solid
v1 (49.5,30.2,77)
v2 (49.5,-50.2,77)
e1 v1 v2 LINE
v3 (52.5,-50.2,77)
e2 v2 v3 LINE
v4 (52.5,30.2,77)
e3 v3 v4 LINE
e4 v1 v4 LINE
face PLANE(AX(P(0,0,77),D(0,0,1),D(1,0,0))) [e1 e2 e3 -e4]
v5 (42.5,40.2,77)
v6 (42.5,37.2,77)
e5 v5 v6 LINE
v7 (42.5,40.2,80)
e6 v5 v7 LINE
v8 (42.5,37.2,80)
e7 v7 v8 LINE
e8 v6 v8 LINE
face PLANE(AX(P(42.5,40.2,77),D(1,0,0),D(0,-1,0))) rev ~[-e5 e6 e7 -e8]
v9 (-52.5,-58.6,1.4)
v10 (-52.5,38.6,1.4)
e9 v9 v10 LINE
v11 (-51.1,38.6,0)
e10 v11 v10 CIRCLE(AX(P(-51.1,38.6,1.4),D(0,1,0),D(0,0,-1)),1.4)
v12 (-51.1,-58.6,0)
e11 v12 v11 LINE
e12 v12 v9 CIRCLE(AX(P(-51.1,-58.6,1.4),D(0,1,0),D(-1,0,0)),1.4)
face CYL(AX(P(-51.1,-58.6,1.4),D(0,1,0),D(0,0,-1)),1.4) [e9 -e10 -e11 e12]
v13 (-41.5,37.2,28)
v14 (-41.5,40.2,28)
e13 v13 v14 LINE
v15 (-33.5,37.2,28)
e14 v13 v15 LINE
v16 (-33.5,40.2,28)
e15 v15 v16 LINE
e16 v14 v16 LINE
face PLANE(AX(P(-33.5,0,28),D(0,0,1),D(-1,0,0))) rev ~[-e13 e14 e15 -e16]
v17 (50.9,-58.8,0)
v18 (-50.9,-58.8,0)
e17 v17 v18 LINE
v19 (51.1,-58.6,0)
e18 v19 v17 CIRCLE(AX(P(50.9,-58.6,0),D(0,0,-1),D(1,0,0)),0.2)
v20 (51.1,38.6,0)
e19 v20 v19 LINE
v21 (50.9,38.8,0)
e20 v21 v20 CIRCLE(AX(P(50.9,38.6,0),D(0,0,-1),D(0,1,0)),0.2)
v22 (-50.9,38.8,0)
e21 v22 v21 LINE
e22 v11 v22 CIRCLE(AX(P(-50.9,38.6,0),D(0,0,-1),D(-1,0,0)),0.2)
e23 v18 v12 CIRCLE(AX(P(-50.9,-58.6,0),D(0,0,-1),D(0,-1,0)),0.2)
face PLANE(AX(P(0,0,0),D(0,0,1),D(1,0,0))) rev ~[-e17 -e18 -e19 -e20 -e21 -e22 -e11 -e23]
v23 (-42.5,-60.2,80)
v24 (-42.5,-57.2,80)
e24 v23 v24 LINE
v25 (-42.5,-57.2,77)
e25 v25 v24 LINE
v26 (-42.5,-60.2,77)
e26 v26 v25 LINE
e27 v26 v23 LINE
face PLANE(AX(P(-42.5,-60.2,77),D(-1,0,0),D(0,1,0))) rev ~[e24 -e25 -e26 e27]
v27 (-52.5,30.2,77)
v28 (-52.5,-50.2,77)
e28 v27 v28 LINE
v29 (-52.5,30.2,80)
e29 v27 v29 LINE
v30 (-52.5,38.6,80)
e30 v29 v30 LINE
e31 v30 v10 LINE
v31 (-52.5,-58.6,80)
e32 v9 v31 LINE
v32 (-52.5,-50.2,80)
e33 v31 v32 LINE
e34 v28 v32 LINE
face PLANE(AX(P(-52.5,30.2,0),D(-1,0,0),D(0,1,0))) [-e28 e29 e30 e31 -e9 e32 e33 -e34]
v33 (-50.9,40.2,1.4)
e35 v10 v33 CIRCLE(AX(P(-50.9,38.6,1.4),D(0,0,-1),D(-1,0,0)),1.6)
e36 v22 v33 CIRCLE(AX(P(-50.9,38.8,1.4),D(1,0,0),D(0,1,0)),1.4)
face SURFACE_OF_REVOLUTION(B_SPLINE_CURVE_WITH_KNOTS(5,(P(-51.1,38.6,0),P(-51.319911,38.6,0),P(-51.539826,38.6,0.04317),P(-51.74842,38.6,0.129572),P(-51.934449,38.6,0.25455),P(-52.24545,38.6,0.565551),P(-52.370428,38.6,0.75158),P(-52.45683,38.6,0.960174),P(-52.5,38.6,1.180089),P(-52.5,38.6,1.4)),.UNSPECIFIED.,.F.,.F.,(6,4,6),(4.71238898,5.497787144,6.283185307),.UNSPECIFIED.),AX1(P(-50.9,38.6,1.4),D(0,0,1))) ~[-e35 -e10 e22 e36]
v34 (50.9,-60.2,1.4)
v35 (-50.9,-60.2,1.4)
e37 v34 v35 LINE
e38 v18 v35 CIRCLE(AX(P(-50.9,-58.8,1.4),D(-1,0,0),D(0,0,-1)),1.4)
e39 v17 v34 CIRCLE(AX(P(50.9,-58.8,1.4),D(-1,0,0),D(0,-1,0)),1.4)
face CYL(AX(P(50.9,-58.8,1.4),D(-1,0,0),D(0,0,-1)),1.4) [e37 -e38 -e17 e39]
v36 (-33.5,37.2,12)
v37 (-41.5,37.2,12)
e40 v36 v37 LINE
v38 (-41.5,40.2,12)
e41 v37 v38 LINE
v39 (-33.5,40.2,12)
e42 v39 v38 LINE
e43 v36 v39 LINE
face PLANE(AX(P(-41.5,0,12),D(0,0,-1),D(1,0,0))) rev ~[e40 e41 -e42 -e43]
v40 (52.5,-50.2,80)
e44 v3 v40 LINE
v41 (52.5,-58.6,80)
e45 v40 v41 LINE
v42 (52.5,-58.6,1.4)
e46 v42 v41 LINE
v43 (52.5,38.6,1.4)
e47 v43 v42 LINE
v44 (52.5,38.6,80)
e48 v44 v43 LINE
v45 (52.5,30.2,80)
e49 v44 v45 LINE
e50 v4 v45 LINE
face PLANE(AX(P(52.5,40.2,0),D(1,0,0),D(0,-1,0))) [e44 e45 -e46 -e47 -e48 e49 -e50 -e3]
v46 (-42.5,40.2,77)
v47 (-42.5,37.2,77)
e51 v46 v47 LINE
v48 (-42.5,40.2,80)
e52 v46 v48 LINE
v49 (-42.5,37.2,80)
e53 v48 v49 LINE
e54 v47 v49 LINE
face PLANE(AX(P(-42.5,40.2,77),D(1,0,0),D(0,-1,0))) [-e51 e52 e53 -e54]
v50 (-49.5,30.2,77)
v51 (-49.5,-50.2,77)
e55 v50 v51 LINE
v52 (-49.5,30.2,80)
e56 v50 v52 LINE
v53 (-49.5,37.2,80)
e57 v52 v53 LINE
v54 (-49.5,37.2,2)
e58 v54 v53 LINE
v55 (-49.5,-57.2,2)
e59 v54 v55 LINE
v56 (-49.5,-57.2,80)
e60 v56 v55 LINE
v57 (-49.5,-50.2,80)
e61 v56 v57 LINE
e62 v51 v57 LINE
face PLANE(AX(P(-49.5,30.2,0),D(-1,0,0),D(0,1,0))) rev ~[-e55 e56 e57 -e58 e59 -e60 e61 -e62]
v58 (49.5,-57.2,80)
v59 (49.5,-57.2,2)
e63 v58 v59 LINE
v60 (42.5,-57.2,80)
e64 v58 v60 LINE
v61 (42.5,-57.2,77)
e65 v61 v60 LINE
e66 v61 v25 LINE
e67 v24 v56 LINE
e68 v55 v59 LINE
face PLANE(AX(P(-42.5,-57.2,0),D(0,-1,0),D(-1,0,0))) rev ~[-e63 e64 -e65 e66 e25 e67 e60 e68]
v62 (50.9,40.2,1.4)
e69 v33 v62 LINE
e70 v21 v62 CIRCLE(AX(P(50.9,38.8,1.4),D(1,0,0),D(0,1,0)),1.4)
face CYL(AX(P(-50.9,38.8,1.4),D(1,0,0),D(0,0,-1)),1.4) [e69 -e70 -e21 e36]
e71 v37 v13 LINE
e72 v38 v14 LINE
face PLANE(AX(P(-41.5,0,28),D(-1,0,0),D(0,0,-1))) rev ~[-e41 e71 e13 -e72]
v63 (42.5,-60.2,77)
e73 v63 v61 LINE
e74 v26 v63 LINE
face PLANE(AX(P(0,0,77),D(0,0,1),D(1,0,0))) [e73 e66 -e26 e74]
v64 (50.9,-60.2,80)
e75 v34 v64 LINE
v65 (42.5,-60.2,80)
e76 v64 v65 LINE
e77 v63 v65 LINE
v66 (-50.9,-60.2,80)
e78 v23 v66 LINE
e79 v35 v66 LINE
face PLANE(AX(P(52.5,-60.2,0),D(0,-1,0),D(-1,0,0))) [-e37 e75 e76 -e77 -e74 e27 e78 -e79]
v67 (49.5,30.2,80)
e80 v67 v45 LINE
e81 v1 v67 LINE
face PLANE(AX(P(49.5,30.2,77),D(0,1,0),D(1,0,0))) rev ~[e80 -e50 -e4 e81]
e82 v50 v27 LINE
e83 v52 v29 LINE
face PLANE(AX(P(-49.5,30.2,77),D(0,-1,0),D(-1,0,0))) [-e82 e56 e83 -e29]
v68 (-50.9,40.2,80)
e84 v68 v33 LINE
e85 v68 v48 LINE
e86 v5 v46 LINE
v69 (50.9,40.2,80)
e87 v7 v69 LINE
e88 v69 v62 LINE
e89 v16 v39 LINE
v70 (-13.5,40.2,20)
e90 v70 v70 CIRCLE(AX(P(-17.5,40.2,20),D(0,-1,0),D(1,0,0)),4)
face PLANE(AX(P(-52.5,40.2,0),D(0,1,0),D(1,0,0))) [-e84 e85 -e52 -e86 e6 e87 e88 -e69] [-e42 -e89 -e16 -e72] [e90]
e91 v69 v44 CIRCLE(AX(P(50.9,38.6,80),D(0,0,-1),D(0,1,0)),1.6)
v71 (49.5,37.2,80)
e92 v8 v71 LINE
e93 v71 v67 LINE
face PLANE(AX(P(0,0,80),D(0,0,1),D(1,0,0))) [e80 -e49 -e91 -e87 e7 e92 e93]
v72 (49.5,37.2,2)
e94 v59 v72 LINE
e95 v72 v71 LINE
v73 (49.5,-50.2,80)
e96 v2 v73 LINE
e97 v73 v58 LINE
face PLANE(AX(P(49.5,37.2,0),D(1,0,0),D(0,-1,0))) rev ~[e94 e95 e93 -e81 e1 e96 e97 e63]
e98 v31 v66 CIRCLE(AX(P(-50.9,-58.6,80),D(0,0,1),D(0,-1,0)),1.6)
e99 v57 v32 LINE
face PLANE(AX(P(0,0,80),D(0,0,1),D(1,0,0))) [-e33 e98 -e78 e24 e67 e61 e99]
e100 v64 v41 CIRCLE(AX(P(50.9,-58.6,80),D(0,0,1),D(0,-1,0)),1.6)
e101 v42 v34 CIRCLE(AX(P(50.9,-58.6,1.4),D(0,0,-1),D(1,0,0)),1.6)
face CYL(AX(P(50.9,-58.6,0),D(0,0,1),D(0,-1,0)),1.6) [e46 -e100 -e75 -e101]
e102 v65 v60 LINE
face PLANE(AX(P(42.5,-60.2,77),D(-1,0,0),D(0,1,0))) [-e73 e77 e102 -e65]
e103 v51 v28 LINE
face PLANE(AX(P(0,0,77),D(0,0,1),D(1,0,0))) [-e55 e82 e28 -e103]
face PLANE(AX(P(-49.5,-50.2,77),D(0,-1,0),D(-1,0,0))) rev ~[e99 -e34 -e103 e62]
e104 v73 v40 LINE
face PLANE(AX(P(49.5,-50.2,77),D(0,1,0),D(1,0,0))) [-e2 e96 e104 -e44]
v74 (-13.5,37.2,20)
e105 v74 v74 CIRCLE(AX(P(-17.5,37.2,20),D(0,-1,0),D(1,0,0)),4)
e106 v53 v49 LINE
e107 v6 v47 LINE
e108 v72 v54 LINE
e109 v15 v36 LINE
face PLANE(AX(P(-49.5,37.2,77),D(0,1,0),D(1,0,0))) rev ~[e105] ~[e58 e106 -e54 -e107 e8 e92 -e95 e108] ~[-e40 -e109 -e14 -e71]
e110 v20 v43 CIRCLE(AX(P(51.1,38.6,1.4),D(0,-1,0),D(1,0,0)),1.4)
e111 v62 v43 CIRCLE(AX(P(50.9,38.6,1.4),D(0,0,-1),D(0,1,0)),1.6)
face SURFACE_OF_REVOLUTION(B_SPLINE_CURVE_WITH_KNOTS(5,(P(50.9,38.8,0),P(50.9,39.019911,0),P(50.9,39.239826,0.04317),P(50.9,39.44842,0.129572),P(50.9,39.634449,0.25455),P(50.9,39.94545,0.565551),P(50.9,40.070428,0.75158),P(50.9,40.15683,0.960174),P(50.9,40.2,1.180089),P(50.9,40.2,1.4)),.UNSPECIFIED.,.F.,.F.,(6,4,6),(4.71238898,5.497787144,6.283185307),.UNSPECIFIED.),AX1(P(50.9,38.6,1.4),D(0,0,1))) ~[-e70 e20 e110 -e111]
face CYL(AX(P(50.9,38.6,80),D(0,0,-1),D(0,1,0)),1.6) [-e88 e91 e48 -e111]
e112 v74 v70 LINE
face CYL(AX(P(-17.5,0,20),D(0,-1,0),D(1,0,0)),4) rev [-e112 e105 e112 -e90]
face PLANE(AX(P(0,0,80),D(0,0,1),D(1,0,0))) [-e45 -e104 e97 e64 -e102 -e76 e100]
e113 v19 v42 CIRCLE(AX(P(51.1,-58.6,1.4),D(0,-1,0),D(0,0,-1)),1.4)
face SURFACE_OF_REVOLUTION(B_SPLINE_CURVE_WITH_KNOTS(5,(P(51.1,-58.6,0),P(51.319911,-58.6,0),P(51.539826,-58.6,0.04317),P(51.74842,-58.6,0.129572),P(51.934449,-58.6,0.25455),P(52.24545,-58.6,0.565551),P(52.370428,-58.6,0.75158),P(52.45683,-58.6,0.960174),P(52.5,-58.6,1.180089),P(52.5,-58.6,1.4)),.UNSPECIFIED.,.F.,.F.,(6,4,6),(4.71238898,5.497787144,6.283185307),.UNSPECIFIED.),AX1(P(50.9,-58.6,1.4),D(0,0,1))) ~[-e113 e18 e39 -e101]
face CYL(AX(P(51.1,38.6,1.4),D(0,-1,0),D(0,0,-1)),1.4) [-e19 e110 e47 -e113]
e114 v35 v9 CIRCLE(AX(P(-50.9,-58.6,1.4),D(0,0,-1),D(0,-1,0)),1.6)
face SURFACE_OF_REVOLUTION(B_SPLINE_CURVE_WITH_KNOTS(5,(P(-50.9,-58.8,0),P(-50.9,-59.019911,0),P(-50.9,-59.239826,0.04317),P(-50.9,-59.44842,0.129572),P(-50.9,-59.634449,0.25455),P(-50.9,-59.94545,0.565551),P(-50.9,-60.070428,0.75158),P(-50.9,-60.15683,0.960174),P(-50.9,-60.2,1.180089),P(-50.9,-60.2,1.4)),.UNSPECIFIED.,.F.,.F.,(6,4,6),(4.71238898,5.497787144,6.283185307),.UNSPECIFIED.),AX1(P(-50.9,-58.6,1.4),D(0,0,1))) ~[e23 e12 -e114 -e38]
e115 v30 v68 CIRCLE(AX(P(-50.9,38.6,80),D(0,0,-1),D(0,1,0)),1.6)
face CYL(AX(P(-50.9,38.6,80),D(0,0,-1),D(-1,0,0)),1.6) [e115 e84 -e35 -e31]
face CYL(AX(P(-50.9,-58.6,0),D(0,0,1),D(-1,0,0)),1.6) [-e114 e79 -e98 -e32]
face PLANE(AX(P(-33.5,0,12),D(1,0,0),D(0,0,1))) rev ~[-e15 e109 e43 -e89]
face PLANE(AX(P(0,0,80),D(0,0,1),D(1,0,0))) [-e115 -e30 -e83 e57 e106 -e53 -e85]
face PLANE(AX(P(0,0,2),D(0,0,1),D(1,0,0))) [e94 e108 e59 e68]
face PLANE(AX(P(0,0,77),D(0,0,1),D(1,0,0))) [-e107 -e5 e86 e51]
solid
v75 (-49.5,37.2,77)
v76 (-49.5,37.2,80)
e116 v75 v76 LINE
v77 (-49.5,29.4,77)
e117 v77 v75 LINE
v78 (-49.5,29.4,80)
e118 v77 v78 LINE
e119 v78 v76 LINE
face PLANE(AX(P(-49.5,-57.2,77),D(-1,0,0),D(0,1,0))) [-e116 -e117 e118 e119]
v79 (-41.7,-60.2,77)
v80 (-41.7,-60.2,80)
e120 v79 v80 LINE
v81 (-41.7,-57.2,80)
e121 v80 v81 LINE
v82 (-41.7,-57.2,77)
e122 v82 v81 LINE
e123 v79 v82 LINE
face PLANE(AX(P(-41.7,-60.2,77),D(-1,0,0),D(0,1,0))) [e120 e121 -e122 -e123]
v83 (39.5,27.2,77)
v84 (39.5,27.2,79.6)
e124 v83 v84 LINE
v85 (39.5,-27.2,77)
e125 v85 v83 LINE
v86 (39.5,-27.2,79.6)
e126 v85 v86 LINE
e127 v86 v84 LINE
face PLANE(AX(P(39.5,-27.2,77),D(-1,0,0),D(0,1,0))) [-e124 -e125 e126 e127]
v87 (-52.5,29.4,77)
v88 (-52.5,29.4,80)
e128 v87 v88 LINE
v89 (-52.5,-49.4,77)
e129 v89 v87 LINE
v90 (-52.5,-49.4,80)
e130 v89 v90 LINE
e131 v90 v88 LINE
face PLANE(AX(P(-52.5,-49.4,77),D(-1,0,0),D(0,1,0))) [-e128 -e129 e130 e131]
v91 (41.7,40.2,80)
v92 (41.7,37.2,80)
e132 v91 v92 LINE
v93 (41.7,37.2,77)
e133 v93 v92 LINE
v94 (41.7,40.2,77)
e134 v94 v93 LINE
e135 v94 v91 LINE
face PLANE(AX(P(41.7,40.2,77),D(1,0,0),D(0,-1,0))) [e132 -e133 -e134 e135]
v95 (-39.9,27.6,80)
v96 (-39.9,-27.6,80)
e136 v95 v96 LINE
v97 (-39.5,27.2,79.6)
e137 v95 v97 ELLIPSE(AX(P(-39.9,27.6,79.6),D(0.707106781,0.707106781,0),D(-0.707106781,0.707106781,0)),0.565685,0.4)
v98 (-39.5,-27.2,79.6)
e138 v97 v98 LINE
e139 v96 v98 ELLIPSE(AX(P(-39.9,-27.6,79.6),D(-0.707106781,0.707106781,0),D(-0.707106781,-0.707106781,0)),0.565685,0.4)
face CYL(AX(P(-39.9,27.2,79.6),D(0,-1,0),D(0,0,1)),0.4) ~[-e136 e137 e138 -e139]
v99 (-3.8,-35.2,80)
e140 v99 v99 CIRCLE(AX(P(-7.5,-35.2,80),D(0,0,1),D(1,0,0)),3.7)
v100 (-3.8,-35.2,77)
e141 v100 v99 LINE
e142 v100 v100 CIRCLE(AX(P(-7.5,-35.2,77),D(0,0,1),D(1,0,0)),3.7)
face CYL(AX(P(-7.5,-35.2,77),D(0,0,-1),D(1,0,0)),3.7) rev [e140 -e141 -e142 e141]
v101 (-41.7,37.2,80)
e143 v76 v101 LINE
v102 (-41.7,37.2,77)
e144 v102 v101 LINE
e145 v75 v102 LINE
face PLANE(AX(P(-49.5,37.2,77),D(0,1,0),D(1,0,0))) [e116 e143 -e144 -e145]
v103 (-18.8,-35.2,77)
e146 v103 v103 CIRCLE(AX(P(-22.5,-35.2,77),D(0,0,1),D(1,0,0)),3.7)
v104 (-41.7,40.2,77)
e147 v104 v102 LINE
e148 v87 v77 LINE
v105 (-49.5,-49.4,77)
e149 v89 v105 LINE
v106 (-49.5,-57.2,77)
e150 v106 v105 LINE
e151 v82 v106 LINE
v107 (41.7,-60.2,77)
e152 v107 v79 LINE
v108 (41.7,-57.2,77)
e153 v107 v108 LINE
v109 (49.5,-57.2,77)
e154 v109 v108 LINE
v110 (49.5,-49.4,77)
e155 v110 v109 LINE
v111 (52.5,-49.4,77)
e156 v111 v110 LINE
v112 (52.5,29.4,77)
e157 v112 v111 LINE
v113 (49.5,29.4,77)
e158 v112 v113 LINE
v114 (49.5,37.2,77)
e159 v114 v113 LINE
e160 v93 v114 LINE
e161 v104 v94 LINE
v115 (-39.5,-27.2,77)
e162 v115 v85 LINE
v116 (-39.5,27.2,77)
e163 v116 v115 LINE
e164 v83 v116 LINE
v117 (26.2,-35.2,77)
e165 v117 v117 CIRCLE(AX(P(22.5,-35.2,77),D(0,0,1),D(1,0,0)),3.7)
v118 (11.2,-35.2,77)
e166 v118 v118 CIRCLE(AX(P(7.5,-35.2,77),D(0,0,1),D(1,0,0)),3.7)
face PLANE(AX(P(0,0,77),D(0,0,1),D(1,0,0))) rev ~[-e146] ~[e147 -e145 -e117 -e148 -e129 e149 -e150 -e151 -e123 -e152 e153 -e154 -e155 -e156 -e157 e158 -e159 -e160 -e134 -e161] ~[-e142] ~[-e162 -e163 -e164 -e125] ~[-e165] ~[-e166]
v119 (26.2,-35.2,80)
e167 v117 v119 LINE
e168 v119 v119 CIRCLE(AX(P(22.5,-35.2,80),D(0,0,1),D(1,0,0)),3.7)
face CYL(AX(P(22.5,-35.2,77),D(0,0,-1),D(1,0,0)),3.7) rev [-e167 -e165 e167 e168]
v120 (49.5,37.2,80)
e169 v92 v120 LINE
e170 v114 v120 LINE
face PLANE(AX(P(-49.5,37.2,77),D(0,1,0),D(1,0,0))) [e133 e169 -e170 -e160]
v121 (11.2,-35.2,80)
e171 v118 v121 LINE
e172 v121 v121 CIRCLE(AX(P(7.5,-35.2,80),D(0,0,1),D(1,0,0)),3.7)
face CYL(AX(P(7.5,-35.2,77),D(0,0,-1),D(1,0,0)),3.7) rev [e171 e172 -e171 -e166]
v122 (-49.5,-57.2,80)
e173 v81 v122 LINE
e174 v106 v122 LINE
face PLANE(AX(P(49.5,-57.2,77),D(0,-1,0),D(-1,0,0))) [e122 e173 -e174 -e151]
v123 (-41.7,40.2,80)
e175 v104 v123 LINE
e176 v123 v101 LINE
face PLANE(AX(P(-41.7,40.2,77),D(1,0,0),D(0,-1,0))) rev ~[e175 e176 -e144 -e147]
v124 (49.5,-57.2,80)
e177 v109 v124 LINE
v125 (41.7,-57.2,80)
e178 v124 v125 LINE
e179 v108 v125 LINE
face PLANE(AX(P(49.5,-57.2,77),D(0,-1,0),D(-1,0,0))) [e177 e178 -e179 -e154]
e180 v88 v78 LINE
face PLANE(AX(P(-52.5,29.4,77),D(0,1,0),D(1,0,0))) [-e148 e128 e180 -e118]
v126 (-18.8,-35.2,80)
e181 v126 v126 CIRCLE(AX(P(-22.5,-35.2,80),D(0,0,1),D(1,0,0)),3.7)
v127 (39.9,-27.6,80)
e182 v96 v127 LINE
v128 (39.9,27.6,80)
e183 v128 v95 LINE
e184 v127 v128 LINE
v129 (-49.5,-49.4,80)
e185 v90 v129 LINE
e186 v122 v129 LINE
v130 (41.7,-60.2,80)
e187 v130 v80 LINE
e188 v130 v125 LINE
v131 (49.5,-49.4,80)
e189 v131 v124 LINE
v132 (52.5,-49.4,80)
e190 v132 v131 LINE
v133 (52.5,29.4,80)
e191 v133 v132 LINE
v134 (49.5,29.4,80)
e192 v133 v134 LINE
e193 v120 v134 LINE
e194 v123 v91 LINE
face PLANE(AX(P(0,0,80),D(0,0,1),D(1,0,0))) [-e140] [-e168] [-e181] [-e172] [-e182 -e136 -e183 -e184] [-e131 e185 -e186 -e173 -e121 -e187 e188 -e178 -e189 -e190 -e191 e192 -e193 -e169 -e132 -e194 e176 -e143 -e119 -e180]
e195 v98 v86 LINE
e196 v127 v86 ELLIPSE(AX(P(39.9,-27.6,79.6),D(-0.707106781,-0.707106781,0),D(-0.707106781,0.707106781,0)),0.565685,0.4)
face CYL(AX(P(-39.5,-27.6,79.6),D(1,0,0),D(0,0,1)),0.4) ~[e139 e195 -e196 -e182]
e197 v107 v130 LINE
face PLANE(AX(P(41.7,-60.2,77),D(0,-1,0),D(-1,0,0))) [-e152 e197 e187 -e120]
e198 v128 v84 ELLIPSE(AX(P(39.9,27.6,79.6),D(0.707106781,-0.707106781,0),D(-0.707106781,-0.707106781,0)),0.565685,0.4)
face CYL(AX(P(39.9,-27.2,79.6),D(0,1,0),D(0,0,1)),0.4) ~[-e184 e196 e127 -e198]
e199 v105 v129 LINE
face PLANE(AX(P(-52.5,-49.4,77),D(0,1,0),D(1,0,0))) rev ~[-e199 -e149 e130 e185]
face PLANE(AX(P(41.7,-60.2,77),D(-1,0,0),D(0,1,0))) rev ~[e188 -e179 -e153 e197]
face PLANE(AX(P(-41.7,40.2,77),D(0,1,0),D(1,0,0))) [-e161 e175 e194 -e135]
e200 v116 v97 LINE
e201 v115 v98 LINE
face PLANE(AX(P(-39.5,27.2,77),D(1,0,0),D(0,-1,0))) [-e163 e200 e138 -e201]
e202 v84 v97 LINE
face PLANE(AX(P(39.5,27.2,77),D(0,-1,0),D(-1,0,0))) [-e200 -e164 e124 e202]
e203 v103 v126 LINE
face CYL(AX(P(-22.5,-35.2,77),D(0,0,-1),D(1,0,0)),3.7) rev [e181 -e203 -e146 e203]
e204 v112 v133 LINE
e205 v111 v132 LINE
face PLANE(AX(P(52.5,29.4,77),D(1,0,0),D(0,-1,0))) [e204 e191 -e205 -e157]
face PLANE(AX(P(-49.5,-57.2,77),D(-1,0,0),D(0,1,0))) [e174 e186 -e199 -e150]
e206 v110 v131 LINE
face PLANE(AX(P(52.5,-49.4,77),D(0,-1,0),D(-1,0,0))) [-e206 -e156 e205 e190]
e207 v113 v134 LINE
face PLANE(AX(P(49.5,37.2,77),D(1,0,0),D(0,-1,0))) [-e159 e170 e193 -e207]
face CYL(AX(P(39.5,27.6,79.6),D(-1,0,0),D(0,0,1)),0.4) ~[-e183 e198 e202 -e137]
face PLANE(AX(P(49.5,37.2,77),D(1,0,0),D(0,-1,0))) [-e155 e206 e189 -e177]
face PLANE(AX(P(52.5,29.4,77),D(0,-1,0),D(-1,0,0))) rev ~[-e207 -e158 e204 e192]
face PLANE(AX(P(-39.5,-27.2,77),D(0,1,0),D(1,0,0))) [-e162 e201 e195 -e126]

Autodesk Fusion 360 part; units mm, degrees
sketch "Sketch2" plane through (0, 0, 0) normal (0, 0, 1) x (1, 0, 0)
  line L0 (-55, 60) -> (55, 60)
  line L1 (55, 60) -> (55, -60)
  line L2 (55, -60) -> (-55, -60)
  line L3 (-55, -60) -> (-55, 60)
  line L4 (0, 60) -> (0, -60) construction
  line L5 (55, 0) -> (-55, 0) construction
  line L6 (-55, 17.8) -> (55, 17.8) construction
  line L7 (-39.5, 45) -> (39.5, 45)
  line L8 (39.5, 45) -> (39.5, -9.4)
  line L9 (39.5, -9.4) -> (-39.5, -9.4)
  line L10 (-39.5, -9.4) -> (-39.5, 45)
  line L11 (39.5, 17.8) -> (-39.5, 17.8) construction
  line L12 (0, 45) -> (0, -9.4) construction
  line L13 (-55, -32) -> (55, -32) construction
  circle A0 centre (22.5, -32) radius 12.5
  circle A1 centre (-22.5, -32) radius 6.25
  line L14 (-6.3, -15.8) -> (-38.7, -15.8)
  line L15 (-38.7, -15.8) -> (-38.7, -48.2)
  line L16 (-38.7, -48.2) -> (-6.3, -48.2)
  line L17 (-6.3, -48.2) -> (-6.3, -15.8)
  line L18 (-6.3, -15.8) -> (-38.7, -48.2) construction
  line L19 (-38.7, -15.8) -> (-6.3, -48.2) construction
  line L20 (-4.3, -13.8) -> (-40.7, -13.8)
  line L21 (-40.7, -13.8) -> (-40.7, -50.2)
  line L22 (-40.7, -50.2) -> (-4.3, -50.2)
  line L23 (-4.3, -50.2) -> (-4.3, -13.8)
  line L24 (-32.5, -48.2) -> (-32.5, -50.2)
  line L25 (-38.7, -42) -> (-40.7, -42)
  line L26 (-22.5, -32) -> (-22.5, -50.2) construction
  point P0 (0, 17.8)
  point P1 (-22.5, -32)
  dimension "d1" = 110
  dimension "d6" = 120
  dimension "d7" = 79
  dimension "d8" = 54.4
  dimension "d9" = 15
  dimension "d12" = 25
  dimension "d13" = 12.5
  dimension "d15" = 32.4
  dimension "d16" = 32.4
  dimension "d17" = 45
  dimension "d18" = 22.5
  dimension "d19" = 28
  dimension "d42" = 2
  dimension "d63" = 10
  dimension "d64" = 10
sketch "Sketch3" plane through (0, 0, 0) normal (0, 0, 1) x (1, 0, 0)
  line L0 (-55, 60) -> (55, 60)
  line L1 (55, 60) -> (55, -60)
  line L2 (55, -60) -> (-55, -60)
  line L3 (-55, -60) -> (-55, 60)
  line L4 (55, 0) -> (-55, 0) construction
  line L5 (0, 60) -> (0, -60) construction
  line L6 (-52.6, 57.6) -> (52.6, 57.6)
  line L7 (52.6, 57.6) -> (52.6, -57.6)
  line L8 (52.6, -57.6) -> (-52.6, -57.6)
  line L9 (-52.6, -57.6) -> (-52.6, 57.6)
  line L10 (-39.6, 57.6) -> (-39.6, 44.6)
  line L11 (-39.6, 44.6) -> (-52.6, 44.6)
  line L12 (-39.6, 51.1) -> (-52.6, 51.1) construction
  line L13 (-46.1, 44.6) -> (-46.1, 57.6) construction
  circle A0 centre (-46.1, 51.1) radius 5
  line L14 (-40.4, 57.6) -> (-40.4, 60)
  line L15 (-52.6, 45.4) -> (-55, 45.4)
  line L16 (-52.6, 44.6) -> (-55, 44.6)
  line L17 (-39.6, 57.6) -> (-39.6, 60)
  line L18 (39.6, 57.6) -> (39.6, 60)
  line L19 (40.4, 57.6) -> (40.4, 60)
  circle A1 centre (46.1, 51.1) radius 5
  line L20 (39.6, 57.6) -> (39.6, 44.6)
  line L21 (39.6, 44.6) -> (52.6, 44.6)
  line L22 (52.6, 44.6) -> (55, 44.6)
  line L23 (52.6, 45.4) -> (55, 45.4)
  line L24 (40.4, -57.6) -> (40.4, -60)
  line L25 (39.6, -57.6) -> (39.6, -60)
  line L26 (39.6, -57.6) -> (39.6, -44.6)
  circle A2 centre (46.1, -51.1) radius 5
  line L27 (39.6, -44.6) -> (52.6, -44.6)
  line L28 (52.6, -44.6) -> (55, -44.6)
  line L29 (52.6, -45.4) -> (55, -45.4)
  line L30 (-39.6, -57.6) -> (-39.6, -44.6)
  line L31 (-39.6, -57.6) -> (-39.6, -60)
  line L32 (-40.4, -57.6) -> (-40.4, -60)
  circle A3 centre (-46.1, -51.1) radius 5
  line L33 (-39.6, -44.6) -> (-52.6, -44.6)
  line L34 (-52.6, -44.6) -> (-55, -44.6)
  line L35 (-52.6, -45.4) -> (-55, -45.4)
  dimension "d20" = 110
  dimension "d21" = 120
  dimension "d22" = 2.4
  dimension "d23" = 13
  dimension "d26" = 10
  dimension "d27" = 0.8
  dimension "d28" = 0.8
extrude "Extrude1" add sketch "Sketch3" along normal blind 2 contours L0 L3 L6 L9 L14 L15 | L0 L6 L14 L17 | L3 L9 L15 L16 | L0 L6 L17 L18 | L6 L9 L10 L11 | L3 L9 L16 L34 | L0 L6 L18 L19 | L6 L7 L8 L9 L10 L11 L20 L21 L26 L27 L30 L33 | L3 L9 L34 L35 | L0 L1 L6 L7 L19 L23 | L6 L7 L20 L21 | L2 L3 L8 L9 L32 L35 | L8 L9 L30 L33 | L1 L7 L22 L23 | L1 L7 L22 L28 | L2 L8 L31 L32 | L2 L8 L25 L31 | L1 L7 L28 L29 | L7 L8 L26 L27 | L2 L8 L24 L25 | L1 L2 L7 L8 L24 L29 | A0 | A1 | A2 | A3 makes body 1
extrude "Extrude2" add sketch "Sketch3" along normal blind 77 contours L0 L3 L6 L9 L14 L15 | L0 L6 L14 L17 | L3 L9 L15 L16 | L0 L6 L17 L18 | L3 L9 L16 L34 | L0 L6 L18 L19 | L3 L9 L34 L35 | L0 L1 L6 L7 L19 L23 | L2 L3 L8 L9 L32 L35 | L1 L7 L22 L23 | L1 L7 L22 L28 | L2 L8 L31 L32 | L2 L8 L25 L31 | L1 L7 L28 L29 | L2 L8 L24 L25 | L1 L2 L7 L8 L24 L29 bodies 1
extrude "Extrude3" add sketch "Sketch3" along normal blind 3 from surface at 77 contours L0 L3 L6 L9 L14 L15 | L0 L1 L6 L7 L19 L23 | L2 L3 L8 L9 L32 L35 | L1 L2 L7 L8 L24 L29 bodies 1
extrude "Extrude4" add sketch "Sketch2" along normal blind 3 from surface at 77 separate body contours L0 L1 L2 L3 | L14 L15 L16 L17 | L14 L15 L16 L17 L20 L21 L22 L23 L24 L25 | L15 L16 L21 L22 L24 L25 makes body 2
extrude "Extrude5" cut sketch "Sketch3" along normal through all contours L0 L3 L6 L9 L14 L15 | L0 L6 L14 L17 | L3 L9 L15 L16 | L0 L6 L18 L19 | L3 L9 L34 L35 | L0 L1 L6 L7 L19 L23 | L2 L3 L8 L9 L32 L35 | L1 L7 L22 L23 | L2 L8 L31 L32 | L1 L7 L28 L29 | L2 L8 L24 L25 | L1 L2 L7 L8 L24 L29 bodies 2
extrude "Extrude6" add sketch "Sketch3" along normal up to surface (75 mm away) from surface at 2 contours L6 L9 L10 L11 | L6 L7 L20 L21 | L8 L9 L30 L33 | L7 L8 L26 L27 | A0 | A1 | A2 | A3 bodies 1
extrude "Extrude7" cut sketch "Sketch3" against normal blind 1.5 from surface at 77 contours A0 | A1 | A2 | A3 bodies 1
fillet "Fillet1" radius 0.4 4 edges at (-52.6, 57.6, 78.5) (52.6, 57.6, 78.5) (52.6, -57.6, 78.5) (-52.6, -57.6, 78.5) on bodies 2
extrude "Extrude8" add sketch "Sketch2" against normal blind 5 from surface at 77 contours L14 L15 L16 L17 L20 L21 L22 L23 L24 L25 bodies 2
extrude "Extrude9" cut sketch "Sketch3" along normal blind 1.5 from surface at 77 contours A0 | A1 | A2 | A3 bodies 2
fillet "Fillet2" radius 5 4 edges at (-39.6, -44.6, 39.5) (-39.6, 44.6, 39.5) (39.6, 44.6, 39.5) (39.6, -44.6, 39.5) on bodies 1
fillet "Fillet4" radius 2.5 8 edges at (39.6, 57.6, 39.5) (52.6, 44.6, 39.5) (52.6, -44.6, 39.5) (39.6, -57.6, 39.5) (-39.6, -57.6, 39.5) (-52.6, -44.6, 39.5) (-52.6, 44.6, 39.5) (-39.6, 57.6, 39.5) on bodies 1
fillet "Fillet5" radius 1.2 4 edges at (55, 60, 40) (-55, 60, 40) (-55, -60, 40) (55, -60, 40) on bodies 1
sketch "Sketch5" plane through (0, 0, 0) normal (0, 1, 0) x (1, 0, 0)
  line L0 (-55, 0) -> (55, 0)
  line L1 (55, 0) -> (55, -80)
  line L2 (55, -80) -> (-55, -80)
  line L3 (-55, -80) -> (-55, 0)
  line L4 (55, -20) -> (-55, -20) construction
  circle A0 centre (-35, -20) radius 4
  line L5 (-19, -28) -> (-11, -28)
  line L6 (-11, -28) -> (-11, -12)
  line L7 (-11, -12) -> (-19, -12)
  line L8 (-19, -12) -> (-19, -28)
  line L9 (-19, -20) -> (-11, -20) construction
  line L10 (-15, -28) -> (-15, -12) construction
  dimension "d69" = 80
  dimension "d70" = 110
  dimension "d71" = 8
  dimension "d72" = 8
  dimension "d73" = 16
  dimension "d74" = 20
  dimension "d75" = 20
  dimension "d76" = 20
extrude "Extrude10" cut sketch "Sketch5" along normal blind 85 contours A0 | L5 L6 L7 L8 bodies 1
sketch "Sketch1" plane through (0, 0, 0) normal (0, 0, 1) x (1, 0, 0) in component "V2"
  line L0 (39.5, 27.2) -> (-39.5, 27.2)
  line L1 (-39.5, 27.2) -> (-39.5, -27.2)
  line L2 (-39.5, -27.2) -> (39.5, -27.2)
  line L3 (39.5, -27.2) -> (39.5, 27.2)
  line L4 (39.5, 27.2) -> (-39.5, -27.2) construction
  line L5 (-39.5, 27.2) -> (39.5, -27.2) construction
  line L6 (-49.5, 37.2) -> (49.5, 37.2)
  line L7 (49.5, 37.2) -> (49.5, -57.2)
  line L8 (49.5, -57.2) -> (-49.5, -57.2)
  line L9 (-49.5, -57.2) -> (-49.5, 37.2)
  line L10 (0, 37.2) -> (0, -57.2) construction
  line L11 (-49.5, -35.2) -> (49.5, -35.2) construction
  circle A0 centre (-7.5, -35.2) radius 3.7
  circle A1 centre (-22.5, -35.2) radius 3.7
  circle A2 centre (22.5, -35.2) radius 3.7
  circle A3 centre (7.5, -35.2) radius 3.7
  line L12 (52.5, 40.2) -> (52.5, -60.2)
  line L13 (52.5, -60.2) -> (-52.5, -60.2)
  line L14 (-52.5, -60.2) -> (-52.5, 40.2)
  line L15 (-52.5, 40.2) -> (52.5, 40.2)
  dimension "d79" = 79
  dimension "d80" = 54.4
  dimension "d81" = 10
  dimension "d82" = 10
  dimension "d83" = 30
  dimension "d85" = 7.4
  dimension "d86" = 15
  dimension "d87" = 7.5
  dimension "d88" = -3
  dimension "d109" = 8
sketch "Sketch2 (2)" plane through (0, 0, 0) normal (0, 0, 1) x (1, 0, 0) in component "V2"
  line L0 (-49.5, 37.2) -> (49.5, 37.2)
  line L1 (49.5, 37.2) -> (49.5, -57.2)
  line L2 (49.5, -57.2) -> (-49.5, -57.2)
  line L3 (-49.5, -57.2) -> (-49.5, 37.2)
  line L4 (-52.5, 40.2) -> (52.5, 40.2)
  line L5 (52.5, 40.2) -> (52.5, -60.2)
  line L6 (52.5, -60.2) -> (-52.5, -60.2)
  line L7 (-52.5, -60.2) -> (-52.5, 40.2)
  line L8 (0, 40.2) -> (0, -60.2) construction
  line L9 (52.5, -10) -> (-52.5, -10) construction
  line L10 (-42.5, 40.2) -> (-42.5, 37.2)
  line L11 (-41.7, 40.2) -> (-41.7, 37.2)
  line L12 (-49.5, 30.2) -> (-52.5, 30.2)
  line L13 (-52.5, 29.4) -> (-49.5, 29.4)
  line L14 (41.7, 40.2) -> (41.7, 37.2)
  line L15 (42.5, 40.2) -> (42.5, 37.2)
  line L16 (49.5, 30.2) -> (52.5, 30.2)
  line L17 (52.5, 29.4) -> (49.5, 29.4)
  line L18 (-41.7, -60.2) -> (-41.7, -57.2)
  line L19 (-42.5, -60.2) -> (-42.5, -57.2)
  line L20 (-49.5, -50.2) -> (-52.5, -50.2)
  line L21 (-52.5, -49.4) -> (-49.5, -49.4)
  line L22 (42.5, -60.2) -> (42.5, -57.2)
  line L23 (41.7, -60.2) -> (41.7, -57.2)
  line L24 (49.5, -50.2) -> (52.5, -50.2)
  line L25 (52.5, -49.4) -> (49.5, -49.4)
  point P0 (-49.5, 37.2)
  point P1 (49.5, -57.2)
  dimension "d89" = -3
  dimension "d90" = 0.8
  dimension "d91" = 0.8
  dimension "d92" = 10
  dimension "d93" = 10
extrude "Extrude2'" add sketch "Sketch2 (2)" along normal blind 2 separate body makes body 3 in component "V2"
extrude "Extrude3'" add sketch "Sketch2 (2)" along normal blind 77 contours L0 L3 L4 L7 L10 L12 | L0 L4 L10 L11 | L3 L7 L12 L13 | L0 L4 L11 L14 | L3 L7 L13 L21 | L0 L4 L14 L15 | L3 L7 L20 L21 | L0 L1 L4 L5 L15 L16 | L2 L3 L6 L7 L19 L20 | L1 L5 L16 L17 | L2 L6 L18 L19 | L1 L5 L17 L25 | L2 L6 L18 L23 | L1 L5 L24 L25 | L2 L6 L22 L23 | L1 L2 L5 L6 L22 L24 bodies 3 in component "V2"
extrude "Extrude4'" add sketch "Sketch2 (2)" along normal blind 3 from surface at 77 contours L0 L3 L4 L7 L10 L12 | L0 L1 L4 L5 L15 L16 | L2 L3 L6 L7 L19 L20 | L1 L2 L5 L6 L22 L24 bodies 3 in component "V2"
extrude "Extrude5'" add sketch "Sketch1" along normal blind 3 from surface at 77 separate body contours L6 L7 L8 L9 makes body 4 in component "V2"
extrude "Extrude6'" add sketch "Sketch2 (2)" along normal up to surface (3 mm away) from surface at 77 contours L0 L4 L11 L14 | L3 L7 L13 L21 | L1 L5 L17 L25 | L2 L6 L18 L23 bodies 4 in component "V2"
fillet "Fillet1'" radius 1.6 4 edges at (-52.5, -60.2, 40) (52.5, -60.2, 40) (52.5, 40.2, 40) (-52.5, 40.2, 40) on bodies 3 in component "V2"
fillet "Fillet2'" radius 1.4 8 edges at (52.0314, 39.7314, 0) (52.5, -10, 0) (52.0314, -59.7314, 0) (0, -60.2, 0) (-52.0314, -59.7314, 0) (-52.5, -10, 0) (-52.0314, 39.7314, 0) (0, 40.2, 0) on bodies 3 in component "V2"
fillet "Fillet3" radius 0.4 4 edges at (0, 27.2, 80) (39.5, 0, 80) (-39.5, 0, 80) (0, -27.2, 80) on bodies 4 in component "V2"
sketch "Sketch3 (2)" plane through (0, 0, 0) normal (0, 1, 0) x (1, 0, 0) in component "V2"
  line L0 (52.5, 0) -> (-52.5, 0)
  line L1 (-52.5, 0) -> (-52.5, -77)
  line L2 (-52.5, -77) -> (52.5, -77)
  line L3 (52.5, -77) -> (52.5, 0)
  line L4 (0, -77) -> (0, 0) construction
  line L5 (-52.5, -20) -> (52.5, -20) construction
  line L6 (-33.5, -28) -> (-41.5, -28)
  line L7 (-41.5, -28) -> (-41.5, -12)
  line L8 (-41.5, -12) -> (-33.5, -12)
  line L9 (-33.5, -12) -> (-33.5, -28)
  line L10 (-33.5, -20) -> (-41.5, -20) construction
  circle A0 centre (-17.5, -20) radius 4
  line L11 (-37.5, -28) -> (-37.5, -12) construction
  point P0 (52.5, 0)
  point P1 (-37.5, -20)
  dimension "d118" = 8
  dimension "d119" = 16
  dimension "d120" = 8
  dimension "d121" = 20
  dimension "d122" = 15
  dimension "d123" = 20
extrude "Extrude7'" cut sketch "Sketch3 (2)" along normal blind 75 contours L6 L7 L8 L9 | A0 bodies 3 in component "V2"
delete_body "RemoveBody1" bodies 1
delete_body "RemoveBody2" bodies 2
component "V2" placed x (1, 0, 0) y (0, 1, 0) z (0, 0, 1) at (0, 0, 0)
equation "d1 = breiteTotal"
equation "breiteTotal = 110 mm"
equation "längeTotal = 120 mm"
equation "breiteDrucker = 79 mm" comment "gmessen 77.5"
equation "längeDrucker = 54.4 mm" comment "gem: 53.8"
equation "d6 = längeTotal"
equation "d7 = breiteDrucker"
equation "d8 = längeDrucker"
equation "buttonLoch = 25 mm"
equation "modusSwitch = 12.5 mm"
equation "d12 = buttonLoch"
equation "d13 = modusSwitch"
equation "modusSwitchPlatte = 32.4 mm"
equation "d15 = modusSwitchPlatte"
equation "d16 = modusSwitchPlatte"
equation "d18 = d17 / 2"
equation "d20 = breiteTotal"
equation "d21 = längeTotal"
equation "magnetDurchmesser = 10 mm"
equation "deckelDicke = 3 mm"
equation "gesamtHöhe = 80 mm"
equation "d33 = gesamtHöhe - deckelDicke"
equation "d36 = deckelDicke"
equation "d38 = deckelDicke"
equation "magnetDicke = 1.5 mm"
equation "d48 = -magnetDicke"
equation "d57 = magnetDicke"
equation "d69 = gesamtHöhe"
equation "d70 = breiteTotal"
equation "d79 = breiteDrucker"
equation "d80 = längeDrucker"
equation "smallButtonDurchmesser = 7.4 mm"
equation "d85 = smallButtonDurchmesser"
equation "d87 = d86 / 2"
equation "d98 = gesamtHöhe - deckelDicke"
equation "d101 = deckelDicke"
equation "d104 = deckelDicke"
